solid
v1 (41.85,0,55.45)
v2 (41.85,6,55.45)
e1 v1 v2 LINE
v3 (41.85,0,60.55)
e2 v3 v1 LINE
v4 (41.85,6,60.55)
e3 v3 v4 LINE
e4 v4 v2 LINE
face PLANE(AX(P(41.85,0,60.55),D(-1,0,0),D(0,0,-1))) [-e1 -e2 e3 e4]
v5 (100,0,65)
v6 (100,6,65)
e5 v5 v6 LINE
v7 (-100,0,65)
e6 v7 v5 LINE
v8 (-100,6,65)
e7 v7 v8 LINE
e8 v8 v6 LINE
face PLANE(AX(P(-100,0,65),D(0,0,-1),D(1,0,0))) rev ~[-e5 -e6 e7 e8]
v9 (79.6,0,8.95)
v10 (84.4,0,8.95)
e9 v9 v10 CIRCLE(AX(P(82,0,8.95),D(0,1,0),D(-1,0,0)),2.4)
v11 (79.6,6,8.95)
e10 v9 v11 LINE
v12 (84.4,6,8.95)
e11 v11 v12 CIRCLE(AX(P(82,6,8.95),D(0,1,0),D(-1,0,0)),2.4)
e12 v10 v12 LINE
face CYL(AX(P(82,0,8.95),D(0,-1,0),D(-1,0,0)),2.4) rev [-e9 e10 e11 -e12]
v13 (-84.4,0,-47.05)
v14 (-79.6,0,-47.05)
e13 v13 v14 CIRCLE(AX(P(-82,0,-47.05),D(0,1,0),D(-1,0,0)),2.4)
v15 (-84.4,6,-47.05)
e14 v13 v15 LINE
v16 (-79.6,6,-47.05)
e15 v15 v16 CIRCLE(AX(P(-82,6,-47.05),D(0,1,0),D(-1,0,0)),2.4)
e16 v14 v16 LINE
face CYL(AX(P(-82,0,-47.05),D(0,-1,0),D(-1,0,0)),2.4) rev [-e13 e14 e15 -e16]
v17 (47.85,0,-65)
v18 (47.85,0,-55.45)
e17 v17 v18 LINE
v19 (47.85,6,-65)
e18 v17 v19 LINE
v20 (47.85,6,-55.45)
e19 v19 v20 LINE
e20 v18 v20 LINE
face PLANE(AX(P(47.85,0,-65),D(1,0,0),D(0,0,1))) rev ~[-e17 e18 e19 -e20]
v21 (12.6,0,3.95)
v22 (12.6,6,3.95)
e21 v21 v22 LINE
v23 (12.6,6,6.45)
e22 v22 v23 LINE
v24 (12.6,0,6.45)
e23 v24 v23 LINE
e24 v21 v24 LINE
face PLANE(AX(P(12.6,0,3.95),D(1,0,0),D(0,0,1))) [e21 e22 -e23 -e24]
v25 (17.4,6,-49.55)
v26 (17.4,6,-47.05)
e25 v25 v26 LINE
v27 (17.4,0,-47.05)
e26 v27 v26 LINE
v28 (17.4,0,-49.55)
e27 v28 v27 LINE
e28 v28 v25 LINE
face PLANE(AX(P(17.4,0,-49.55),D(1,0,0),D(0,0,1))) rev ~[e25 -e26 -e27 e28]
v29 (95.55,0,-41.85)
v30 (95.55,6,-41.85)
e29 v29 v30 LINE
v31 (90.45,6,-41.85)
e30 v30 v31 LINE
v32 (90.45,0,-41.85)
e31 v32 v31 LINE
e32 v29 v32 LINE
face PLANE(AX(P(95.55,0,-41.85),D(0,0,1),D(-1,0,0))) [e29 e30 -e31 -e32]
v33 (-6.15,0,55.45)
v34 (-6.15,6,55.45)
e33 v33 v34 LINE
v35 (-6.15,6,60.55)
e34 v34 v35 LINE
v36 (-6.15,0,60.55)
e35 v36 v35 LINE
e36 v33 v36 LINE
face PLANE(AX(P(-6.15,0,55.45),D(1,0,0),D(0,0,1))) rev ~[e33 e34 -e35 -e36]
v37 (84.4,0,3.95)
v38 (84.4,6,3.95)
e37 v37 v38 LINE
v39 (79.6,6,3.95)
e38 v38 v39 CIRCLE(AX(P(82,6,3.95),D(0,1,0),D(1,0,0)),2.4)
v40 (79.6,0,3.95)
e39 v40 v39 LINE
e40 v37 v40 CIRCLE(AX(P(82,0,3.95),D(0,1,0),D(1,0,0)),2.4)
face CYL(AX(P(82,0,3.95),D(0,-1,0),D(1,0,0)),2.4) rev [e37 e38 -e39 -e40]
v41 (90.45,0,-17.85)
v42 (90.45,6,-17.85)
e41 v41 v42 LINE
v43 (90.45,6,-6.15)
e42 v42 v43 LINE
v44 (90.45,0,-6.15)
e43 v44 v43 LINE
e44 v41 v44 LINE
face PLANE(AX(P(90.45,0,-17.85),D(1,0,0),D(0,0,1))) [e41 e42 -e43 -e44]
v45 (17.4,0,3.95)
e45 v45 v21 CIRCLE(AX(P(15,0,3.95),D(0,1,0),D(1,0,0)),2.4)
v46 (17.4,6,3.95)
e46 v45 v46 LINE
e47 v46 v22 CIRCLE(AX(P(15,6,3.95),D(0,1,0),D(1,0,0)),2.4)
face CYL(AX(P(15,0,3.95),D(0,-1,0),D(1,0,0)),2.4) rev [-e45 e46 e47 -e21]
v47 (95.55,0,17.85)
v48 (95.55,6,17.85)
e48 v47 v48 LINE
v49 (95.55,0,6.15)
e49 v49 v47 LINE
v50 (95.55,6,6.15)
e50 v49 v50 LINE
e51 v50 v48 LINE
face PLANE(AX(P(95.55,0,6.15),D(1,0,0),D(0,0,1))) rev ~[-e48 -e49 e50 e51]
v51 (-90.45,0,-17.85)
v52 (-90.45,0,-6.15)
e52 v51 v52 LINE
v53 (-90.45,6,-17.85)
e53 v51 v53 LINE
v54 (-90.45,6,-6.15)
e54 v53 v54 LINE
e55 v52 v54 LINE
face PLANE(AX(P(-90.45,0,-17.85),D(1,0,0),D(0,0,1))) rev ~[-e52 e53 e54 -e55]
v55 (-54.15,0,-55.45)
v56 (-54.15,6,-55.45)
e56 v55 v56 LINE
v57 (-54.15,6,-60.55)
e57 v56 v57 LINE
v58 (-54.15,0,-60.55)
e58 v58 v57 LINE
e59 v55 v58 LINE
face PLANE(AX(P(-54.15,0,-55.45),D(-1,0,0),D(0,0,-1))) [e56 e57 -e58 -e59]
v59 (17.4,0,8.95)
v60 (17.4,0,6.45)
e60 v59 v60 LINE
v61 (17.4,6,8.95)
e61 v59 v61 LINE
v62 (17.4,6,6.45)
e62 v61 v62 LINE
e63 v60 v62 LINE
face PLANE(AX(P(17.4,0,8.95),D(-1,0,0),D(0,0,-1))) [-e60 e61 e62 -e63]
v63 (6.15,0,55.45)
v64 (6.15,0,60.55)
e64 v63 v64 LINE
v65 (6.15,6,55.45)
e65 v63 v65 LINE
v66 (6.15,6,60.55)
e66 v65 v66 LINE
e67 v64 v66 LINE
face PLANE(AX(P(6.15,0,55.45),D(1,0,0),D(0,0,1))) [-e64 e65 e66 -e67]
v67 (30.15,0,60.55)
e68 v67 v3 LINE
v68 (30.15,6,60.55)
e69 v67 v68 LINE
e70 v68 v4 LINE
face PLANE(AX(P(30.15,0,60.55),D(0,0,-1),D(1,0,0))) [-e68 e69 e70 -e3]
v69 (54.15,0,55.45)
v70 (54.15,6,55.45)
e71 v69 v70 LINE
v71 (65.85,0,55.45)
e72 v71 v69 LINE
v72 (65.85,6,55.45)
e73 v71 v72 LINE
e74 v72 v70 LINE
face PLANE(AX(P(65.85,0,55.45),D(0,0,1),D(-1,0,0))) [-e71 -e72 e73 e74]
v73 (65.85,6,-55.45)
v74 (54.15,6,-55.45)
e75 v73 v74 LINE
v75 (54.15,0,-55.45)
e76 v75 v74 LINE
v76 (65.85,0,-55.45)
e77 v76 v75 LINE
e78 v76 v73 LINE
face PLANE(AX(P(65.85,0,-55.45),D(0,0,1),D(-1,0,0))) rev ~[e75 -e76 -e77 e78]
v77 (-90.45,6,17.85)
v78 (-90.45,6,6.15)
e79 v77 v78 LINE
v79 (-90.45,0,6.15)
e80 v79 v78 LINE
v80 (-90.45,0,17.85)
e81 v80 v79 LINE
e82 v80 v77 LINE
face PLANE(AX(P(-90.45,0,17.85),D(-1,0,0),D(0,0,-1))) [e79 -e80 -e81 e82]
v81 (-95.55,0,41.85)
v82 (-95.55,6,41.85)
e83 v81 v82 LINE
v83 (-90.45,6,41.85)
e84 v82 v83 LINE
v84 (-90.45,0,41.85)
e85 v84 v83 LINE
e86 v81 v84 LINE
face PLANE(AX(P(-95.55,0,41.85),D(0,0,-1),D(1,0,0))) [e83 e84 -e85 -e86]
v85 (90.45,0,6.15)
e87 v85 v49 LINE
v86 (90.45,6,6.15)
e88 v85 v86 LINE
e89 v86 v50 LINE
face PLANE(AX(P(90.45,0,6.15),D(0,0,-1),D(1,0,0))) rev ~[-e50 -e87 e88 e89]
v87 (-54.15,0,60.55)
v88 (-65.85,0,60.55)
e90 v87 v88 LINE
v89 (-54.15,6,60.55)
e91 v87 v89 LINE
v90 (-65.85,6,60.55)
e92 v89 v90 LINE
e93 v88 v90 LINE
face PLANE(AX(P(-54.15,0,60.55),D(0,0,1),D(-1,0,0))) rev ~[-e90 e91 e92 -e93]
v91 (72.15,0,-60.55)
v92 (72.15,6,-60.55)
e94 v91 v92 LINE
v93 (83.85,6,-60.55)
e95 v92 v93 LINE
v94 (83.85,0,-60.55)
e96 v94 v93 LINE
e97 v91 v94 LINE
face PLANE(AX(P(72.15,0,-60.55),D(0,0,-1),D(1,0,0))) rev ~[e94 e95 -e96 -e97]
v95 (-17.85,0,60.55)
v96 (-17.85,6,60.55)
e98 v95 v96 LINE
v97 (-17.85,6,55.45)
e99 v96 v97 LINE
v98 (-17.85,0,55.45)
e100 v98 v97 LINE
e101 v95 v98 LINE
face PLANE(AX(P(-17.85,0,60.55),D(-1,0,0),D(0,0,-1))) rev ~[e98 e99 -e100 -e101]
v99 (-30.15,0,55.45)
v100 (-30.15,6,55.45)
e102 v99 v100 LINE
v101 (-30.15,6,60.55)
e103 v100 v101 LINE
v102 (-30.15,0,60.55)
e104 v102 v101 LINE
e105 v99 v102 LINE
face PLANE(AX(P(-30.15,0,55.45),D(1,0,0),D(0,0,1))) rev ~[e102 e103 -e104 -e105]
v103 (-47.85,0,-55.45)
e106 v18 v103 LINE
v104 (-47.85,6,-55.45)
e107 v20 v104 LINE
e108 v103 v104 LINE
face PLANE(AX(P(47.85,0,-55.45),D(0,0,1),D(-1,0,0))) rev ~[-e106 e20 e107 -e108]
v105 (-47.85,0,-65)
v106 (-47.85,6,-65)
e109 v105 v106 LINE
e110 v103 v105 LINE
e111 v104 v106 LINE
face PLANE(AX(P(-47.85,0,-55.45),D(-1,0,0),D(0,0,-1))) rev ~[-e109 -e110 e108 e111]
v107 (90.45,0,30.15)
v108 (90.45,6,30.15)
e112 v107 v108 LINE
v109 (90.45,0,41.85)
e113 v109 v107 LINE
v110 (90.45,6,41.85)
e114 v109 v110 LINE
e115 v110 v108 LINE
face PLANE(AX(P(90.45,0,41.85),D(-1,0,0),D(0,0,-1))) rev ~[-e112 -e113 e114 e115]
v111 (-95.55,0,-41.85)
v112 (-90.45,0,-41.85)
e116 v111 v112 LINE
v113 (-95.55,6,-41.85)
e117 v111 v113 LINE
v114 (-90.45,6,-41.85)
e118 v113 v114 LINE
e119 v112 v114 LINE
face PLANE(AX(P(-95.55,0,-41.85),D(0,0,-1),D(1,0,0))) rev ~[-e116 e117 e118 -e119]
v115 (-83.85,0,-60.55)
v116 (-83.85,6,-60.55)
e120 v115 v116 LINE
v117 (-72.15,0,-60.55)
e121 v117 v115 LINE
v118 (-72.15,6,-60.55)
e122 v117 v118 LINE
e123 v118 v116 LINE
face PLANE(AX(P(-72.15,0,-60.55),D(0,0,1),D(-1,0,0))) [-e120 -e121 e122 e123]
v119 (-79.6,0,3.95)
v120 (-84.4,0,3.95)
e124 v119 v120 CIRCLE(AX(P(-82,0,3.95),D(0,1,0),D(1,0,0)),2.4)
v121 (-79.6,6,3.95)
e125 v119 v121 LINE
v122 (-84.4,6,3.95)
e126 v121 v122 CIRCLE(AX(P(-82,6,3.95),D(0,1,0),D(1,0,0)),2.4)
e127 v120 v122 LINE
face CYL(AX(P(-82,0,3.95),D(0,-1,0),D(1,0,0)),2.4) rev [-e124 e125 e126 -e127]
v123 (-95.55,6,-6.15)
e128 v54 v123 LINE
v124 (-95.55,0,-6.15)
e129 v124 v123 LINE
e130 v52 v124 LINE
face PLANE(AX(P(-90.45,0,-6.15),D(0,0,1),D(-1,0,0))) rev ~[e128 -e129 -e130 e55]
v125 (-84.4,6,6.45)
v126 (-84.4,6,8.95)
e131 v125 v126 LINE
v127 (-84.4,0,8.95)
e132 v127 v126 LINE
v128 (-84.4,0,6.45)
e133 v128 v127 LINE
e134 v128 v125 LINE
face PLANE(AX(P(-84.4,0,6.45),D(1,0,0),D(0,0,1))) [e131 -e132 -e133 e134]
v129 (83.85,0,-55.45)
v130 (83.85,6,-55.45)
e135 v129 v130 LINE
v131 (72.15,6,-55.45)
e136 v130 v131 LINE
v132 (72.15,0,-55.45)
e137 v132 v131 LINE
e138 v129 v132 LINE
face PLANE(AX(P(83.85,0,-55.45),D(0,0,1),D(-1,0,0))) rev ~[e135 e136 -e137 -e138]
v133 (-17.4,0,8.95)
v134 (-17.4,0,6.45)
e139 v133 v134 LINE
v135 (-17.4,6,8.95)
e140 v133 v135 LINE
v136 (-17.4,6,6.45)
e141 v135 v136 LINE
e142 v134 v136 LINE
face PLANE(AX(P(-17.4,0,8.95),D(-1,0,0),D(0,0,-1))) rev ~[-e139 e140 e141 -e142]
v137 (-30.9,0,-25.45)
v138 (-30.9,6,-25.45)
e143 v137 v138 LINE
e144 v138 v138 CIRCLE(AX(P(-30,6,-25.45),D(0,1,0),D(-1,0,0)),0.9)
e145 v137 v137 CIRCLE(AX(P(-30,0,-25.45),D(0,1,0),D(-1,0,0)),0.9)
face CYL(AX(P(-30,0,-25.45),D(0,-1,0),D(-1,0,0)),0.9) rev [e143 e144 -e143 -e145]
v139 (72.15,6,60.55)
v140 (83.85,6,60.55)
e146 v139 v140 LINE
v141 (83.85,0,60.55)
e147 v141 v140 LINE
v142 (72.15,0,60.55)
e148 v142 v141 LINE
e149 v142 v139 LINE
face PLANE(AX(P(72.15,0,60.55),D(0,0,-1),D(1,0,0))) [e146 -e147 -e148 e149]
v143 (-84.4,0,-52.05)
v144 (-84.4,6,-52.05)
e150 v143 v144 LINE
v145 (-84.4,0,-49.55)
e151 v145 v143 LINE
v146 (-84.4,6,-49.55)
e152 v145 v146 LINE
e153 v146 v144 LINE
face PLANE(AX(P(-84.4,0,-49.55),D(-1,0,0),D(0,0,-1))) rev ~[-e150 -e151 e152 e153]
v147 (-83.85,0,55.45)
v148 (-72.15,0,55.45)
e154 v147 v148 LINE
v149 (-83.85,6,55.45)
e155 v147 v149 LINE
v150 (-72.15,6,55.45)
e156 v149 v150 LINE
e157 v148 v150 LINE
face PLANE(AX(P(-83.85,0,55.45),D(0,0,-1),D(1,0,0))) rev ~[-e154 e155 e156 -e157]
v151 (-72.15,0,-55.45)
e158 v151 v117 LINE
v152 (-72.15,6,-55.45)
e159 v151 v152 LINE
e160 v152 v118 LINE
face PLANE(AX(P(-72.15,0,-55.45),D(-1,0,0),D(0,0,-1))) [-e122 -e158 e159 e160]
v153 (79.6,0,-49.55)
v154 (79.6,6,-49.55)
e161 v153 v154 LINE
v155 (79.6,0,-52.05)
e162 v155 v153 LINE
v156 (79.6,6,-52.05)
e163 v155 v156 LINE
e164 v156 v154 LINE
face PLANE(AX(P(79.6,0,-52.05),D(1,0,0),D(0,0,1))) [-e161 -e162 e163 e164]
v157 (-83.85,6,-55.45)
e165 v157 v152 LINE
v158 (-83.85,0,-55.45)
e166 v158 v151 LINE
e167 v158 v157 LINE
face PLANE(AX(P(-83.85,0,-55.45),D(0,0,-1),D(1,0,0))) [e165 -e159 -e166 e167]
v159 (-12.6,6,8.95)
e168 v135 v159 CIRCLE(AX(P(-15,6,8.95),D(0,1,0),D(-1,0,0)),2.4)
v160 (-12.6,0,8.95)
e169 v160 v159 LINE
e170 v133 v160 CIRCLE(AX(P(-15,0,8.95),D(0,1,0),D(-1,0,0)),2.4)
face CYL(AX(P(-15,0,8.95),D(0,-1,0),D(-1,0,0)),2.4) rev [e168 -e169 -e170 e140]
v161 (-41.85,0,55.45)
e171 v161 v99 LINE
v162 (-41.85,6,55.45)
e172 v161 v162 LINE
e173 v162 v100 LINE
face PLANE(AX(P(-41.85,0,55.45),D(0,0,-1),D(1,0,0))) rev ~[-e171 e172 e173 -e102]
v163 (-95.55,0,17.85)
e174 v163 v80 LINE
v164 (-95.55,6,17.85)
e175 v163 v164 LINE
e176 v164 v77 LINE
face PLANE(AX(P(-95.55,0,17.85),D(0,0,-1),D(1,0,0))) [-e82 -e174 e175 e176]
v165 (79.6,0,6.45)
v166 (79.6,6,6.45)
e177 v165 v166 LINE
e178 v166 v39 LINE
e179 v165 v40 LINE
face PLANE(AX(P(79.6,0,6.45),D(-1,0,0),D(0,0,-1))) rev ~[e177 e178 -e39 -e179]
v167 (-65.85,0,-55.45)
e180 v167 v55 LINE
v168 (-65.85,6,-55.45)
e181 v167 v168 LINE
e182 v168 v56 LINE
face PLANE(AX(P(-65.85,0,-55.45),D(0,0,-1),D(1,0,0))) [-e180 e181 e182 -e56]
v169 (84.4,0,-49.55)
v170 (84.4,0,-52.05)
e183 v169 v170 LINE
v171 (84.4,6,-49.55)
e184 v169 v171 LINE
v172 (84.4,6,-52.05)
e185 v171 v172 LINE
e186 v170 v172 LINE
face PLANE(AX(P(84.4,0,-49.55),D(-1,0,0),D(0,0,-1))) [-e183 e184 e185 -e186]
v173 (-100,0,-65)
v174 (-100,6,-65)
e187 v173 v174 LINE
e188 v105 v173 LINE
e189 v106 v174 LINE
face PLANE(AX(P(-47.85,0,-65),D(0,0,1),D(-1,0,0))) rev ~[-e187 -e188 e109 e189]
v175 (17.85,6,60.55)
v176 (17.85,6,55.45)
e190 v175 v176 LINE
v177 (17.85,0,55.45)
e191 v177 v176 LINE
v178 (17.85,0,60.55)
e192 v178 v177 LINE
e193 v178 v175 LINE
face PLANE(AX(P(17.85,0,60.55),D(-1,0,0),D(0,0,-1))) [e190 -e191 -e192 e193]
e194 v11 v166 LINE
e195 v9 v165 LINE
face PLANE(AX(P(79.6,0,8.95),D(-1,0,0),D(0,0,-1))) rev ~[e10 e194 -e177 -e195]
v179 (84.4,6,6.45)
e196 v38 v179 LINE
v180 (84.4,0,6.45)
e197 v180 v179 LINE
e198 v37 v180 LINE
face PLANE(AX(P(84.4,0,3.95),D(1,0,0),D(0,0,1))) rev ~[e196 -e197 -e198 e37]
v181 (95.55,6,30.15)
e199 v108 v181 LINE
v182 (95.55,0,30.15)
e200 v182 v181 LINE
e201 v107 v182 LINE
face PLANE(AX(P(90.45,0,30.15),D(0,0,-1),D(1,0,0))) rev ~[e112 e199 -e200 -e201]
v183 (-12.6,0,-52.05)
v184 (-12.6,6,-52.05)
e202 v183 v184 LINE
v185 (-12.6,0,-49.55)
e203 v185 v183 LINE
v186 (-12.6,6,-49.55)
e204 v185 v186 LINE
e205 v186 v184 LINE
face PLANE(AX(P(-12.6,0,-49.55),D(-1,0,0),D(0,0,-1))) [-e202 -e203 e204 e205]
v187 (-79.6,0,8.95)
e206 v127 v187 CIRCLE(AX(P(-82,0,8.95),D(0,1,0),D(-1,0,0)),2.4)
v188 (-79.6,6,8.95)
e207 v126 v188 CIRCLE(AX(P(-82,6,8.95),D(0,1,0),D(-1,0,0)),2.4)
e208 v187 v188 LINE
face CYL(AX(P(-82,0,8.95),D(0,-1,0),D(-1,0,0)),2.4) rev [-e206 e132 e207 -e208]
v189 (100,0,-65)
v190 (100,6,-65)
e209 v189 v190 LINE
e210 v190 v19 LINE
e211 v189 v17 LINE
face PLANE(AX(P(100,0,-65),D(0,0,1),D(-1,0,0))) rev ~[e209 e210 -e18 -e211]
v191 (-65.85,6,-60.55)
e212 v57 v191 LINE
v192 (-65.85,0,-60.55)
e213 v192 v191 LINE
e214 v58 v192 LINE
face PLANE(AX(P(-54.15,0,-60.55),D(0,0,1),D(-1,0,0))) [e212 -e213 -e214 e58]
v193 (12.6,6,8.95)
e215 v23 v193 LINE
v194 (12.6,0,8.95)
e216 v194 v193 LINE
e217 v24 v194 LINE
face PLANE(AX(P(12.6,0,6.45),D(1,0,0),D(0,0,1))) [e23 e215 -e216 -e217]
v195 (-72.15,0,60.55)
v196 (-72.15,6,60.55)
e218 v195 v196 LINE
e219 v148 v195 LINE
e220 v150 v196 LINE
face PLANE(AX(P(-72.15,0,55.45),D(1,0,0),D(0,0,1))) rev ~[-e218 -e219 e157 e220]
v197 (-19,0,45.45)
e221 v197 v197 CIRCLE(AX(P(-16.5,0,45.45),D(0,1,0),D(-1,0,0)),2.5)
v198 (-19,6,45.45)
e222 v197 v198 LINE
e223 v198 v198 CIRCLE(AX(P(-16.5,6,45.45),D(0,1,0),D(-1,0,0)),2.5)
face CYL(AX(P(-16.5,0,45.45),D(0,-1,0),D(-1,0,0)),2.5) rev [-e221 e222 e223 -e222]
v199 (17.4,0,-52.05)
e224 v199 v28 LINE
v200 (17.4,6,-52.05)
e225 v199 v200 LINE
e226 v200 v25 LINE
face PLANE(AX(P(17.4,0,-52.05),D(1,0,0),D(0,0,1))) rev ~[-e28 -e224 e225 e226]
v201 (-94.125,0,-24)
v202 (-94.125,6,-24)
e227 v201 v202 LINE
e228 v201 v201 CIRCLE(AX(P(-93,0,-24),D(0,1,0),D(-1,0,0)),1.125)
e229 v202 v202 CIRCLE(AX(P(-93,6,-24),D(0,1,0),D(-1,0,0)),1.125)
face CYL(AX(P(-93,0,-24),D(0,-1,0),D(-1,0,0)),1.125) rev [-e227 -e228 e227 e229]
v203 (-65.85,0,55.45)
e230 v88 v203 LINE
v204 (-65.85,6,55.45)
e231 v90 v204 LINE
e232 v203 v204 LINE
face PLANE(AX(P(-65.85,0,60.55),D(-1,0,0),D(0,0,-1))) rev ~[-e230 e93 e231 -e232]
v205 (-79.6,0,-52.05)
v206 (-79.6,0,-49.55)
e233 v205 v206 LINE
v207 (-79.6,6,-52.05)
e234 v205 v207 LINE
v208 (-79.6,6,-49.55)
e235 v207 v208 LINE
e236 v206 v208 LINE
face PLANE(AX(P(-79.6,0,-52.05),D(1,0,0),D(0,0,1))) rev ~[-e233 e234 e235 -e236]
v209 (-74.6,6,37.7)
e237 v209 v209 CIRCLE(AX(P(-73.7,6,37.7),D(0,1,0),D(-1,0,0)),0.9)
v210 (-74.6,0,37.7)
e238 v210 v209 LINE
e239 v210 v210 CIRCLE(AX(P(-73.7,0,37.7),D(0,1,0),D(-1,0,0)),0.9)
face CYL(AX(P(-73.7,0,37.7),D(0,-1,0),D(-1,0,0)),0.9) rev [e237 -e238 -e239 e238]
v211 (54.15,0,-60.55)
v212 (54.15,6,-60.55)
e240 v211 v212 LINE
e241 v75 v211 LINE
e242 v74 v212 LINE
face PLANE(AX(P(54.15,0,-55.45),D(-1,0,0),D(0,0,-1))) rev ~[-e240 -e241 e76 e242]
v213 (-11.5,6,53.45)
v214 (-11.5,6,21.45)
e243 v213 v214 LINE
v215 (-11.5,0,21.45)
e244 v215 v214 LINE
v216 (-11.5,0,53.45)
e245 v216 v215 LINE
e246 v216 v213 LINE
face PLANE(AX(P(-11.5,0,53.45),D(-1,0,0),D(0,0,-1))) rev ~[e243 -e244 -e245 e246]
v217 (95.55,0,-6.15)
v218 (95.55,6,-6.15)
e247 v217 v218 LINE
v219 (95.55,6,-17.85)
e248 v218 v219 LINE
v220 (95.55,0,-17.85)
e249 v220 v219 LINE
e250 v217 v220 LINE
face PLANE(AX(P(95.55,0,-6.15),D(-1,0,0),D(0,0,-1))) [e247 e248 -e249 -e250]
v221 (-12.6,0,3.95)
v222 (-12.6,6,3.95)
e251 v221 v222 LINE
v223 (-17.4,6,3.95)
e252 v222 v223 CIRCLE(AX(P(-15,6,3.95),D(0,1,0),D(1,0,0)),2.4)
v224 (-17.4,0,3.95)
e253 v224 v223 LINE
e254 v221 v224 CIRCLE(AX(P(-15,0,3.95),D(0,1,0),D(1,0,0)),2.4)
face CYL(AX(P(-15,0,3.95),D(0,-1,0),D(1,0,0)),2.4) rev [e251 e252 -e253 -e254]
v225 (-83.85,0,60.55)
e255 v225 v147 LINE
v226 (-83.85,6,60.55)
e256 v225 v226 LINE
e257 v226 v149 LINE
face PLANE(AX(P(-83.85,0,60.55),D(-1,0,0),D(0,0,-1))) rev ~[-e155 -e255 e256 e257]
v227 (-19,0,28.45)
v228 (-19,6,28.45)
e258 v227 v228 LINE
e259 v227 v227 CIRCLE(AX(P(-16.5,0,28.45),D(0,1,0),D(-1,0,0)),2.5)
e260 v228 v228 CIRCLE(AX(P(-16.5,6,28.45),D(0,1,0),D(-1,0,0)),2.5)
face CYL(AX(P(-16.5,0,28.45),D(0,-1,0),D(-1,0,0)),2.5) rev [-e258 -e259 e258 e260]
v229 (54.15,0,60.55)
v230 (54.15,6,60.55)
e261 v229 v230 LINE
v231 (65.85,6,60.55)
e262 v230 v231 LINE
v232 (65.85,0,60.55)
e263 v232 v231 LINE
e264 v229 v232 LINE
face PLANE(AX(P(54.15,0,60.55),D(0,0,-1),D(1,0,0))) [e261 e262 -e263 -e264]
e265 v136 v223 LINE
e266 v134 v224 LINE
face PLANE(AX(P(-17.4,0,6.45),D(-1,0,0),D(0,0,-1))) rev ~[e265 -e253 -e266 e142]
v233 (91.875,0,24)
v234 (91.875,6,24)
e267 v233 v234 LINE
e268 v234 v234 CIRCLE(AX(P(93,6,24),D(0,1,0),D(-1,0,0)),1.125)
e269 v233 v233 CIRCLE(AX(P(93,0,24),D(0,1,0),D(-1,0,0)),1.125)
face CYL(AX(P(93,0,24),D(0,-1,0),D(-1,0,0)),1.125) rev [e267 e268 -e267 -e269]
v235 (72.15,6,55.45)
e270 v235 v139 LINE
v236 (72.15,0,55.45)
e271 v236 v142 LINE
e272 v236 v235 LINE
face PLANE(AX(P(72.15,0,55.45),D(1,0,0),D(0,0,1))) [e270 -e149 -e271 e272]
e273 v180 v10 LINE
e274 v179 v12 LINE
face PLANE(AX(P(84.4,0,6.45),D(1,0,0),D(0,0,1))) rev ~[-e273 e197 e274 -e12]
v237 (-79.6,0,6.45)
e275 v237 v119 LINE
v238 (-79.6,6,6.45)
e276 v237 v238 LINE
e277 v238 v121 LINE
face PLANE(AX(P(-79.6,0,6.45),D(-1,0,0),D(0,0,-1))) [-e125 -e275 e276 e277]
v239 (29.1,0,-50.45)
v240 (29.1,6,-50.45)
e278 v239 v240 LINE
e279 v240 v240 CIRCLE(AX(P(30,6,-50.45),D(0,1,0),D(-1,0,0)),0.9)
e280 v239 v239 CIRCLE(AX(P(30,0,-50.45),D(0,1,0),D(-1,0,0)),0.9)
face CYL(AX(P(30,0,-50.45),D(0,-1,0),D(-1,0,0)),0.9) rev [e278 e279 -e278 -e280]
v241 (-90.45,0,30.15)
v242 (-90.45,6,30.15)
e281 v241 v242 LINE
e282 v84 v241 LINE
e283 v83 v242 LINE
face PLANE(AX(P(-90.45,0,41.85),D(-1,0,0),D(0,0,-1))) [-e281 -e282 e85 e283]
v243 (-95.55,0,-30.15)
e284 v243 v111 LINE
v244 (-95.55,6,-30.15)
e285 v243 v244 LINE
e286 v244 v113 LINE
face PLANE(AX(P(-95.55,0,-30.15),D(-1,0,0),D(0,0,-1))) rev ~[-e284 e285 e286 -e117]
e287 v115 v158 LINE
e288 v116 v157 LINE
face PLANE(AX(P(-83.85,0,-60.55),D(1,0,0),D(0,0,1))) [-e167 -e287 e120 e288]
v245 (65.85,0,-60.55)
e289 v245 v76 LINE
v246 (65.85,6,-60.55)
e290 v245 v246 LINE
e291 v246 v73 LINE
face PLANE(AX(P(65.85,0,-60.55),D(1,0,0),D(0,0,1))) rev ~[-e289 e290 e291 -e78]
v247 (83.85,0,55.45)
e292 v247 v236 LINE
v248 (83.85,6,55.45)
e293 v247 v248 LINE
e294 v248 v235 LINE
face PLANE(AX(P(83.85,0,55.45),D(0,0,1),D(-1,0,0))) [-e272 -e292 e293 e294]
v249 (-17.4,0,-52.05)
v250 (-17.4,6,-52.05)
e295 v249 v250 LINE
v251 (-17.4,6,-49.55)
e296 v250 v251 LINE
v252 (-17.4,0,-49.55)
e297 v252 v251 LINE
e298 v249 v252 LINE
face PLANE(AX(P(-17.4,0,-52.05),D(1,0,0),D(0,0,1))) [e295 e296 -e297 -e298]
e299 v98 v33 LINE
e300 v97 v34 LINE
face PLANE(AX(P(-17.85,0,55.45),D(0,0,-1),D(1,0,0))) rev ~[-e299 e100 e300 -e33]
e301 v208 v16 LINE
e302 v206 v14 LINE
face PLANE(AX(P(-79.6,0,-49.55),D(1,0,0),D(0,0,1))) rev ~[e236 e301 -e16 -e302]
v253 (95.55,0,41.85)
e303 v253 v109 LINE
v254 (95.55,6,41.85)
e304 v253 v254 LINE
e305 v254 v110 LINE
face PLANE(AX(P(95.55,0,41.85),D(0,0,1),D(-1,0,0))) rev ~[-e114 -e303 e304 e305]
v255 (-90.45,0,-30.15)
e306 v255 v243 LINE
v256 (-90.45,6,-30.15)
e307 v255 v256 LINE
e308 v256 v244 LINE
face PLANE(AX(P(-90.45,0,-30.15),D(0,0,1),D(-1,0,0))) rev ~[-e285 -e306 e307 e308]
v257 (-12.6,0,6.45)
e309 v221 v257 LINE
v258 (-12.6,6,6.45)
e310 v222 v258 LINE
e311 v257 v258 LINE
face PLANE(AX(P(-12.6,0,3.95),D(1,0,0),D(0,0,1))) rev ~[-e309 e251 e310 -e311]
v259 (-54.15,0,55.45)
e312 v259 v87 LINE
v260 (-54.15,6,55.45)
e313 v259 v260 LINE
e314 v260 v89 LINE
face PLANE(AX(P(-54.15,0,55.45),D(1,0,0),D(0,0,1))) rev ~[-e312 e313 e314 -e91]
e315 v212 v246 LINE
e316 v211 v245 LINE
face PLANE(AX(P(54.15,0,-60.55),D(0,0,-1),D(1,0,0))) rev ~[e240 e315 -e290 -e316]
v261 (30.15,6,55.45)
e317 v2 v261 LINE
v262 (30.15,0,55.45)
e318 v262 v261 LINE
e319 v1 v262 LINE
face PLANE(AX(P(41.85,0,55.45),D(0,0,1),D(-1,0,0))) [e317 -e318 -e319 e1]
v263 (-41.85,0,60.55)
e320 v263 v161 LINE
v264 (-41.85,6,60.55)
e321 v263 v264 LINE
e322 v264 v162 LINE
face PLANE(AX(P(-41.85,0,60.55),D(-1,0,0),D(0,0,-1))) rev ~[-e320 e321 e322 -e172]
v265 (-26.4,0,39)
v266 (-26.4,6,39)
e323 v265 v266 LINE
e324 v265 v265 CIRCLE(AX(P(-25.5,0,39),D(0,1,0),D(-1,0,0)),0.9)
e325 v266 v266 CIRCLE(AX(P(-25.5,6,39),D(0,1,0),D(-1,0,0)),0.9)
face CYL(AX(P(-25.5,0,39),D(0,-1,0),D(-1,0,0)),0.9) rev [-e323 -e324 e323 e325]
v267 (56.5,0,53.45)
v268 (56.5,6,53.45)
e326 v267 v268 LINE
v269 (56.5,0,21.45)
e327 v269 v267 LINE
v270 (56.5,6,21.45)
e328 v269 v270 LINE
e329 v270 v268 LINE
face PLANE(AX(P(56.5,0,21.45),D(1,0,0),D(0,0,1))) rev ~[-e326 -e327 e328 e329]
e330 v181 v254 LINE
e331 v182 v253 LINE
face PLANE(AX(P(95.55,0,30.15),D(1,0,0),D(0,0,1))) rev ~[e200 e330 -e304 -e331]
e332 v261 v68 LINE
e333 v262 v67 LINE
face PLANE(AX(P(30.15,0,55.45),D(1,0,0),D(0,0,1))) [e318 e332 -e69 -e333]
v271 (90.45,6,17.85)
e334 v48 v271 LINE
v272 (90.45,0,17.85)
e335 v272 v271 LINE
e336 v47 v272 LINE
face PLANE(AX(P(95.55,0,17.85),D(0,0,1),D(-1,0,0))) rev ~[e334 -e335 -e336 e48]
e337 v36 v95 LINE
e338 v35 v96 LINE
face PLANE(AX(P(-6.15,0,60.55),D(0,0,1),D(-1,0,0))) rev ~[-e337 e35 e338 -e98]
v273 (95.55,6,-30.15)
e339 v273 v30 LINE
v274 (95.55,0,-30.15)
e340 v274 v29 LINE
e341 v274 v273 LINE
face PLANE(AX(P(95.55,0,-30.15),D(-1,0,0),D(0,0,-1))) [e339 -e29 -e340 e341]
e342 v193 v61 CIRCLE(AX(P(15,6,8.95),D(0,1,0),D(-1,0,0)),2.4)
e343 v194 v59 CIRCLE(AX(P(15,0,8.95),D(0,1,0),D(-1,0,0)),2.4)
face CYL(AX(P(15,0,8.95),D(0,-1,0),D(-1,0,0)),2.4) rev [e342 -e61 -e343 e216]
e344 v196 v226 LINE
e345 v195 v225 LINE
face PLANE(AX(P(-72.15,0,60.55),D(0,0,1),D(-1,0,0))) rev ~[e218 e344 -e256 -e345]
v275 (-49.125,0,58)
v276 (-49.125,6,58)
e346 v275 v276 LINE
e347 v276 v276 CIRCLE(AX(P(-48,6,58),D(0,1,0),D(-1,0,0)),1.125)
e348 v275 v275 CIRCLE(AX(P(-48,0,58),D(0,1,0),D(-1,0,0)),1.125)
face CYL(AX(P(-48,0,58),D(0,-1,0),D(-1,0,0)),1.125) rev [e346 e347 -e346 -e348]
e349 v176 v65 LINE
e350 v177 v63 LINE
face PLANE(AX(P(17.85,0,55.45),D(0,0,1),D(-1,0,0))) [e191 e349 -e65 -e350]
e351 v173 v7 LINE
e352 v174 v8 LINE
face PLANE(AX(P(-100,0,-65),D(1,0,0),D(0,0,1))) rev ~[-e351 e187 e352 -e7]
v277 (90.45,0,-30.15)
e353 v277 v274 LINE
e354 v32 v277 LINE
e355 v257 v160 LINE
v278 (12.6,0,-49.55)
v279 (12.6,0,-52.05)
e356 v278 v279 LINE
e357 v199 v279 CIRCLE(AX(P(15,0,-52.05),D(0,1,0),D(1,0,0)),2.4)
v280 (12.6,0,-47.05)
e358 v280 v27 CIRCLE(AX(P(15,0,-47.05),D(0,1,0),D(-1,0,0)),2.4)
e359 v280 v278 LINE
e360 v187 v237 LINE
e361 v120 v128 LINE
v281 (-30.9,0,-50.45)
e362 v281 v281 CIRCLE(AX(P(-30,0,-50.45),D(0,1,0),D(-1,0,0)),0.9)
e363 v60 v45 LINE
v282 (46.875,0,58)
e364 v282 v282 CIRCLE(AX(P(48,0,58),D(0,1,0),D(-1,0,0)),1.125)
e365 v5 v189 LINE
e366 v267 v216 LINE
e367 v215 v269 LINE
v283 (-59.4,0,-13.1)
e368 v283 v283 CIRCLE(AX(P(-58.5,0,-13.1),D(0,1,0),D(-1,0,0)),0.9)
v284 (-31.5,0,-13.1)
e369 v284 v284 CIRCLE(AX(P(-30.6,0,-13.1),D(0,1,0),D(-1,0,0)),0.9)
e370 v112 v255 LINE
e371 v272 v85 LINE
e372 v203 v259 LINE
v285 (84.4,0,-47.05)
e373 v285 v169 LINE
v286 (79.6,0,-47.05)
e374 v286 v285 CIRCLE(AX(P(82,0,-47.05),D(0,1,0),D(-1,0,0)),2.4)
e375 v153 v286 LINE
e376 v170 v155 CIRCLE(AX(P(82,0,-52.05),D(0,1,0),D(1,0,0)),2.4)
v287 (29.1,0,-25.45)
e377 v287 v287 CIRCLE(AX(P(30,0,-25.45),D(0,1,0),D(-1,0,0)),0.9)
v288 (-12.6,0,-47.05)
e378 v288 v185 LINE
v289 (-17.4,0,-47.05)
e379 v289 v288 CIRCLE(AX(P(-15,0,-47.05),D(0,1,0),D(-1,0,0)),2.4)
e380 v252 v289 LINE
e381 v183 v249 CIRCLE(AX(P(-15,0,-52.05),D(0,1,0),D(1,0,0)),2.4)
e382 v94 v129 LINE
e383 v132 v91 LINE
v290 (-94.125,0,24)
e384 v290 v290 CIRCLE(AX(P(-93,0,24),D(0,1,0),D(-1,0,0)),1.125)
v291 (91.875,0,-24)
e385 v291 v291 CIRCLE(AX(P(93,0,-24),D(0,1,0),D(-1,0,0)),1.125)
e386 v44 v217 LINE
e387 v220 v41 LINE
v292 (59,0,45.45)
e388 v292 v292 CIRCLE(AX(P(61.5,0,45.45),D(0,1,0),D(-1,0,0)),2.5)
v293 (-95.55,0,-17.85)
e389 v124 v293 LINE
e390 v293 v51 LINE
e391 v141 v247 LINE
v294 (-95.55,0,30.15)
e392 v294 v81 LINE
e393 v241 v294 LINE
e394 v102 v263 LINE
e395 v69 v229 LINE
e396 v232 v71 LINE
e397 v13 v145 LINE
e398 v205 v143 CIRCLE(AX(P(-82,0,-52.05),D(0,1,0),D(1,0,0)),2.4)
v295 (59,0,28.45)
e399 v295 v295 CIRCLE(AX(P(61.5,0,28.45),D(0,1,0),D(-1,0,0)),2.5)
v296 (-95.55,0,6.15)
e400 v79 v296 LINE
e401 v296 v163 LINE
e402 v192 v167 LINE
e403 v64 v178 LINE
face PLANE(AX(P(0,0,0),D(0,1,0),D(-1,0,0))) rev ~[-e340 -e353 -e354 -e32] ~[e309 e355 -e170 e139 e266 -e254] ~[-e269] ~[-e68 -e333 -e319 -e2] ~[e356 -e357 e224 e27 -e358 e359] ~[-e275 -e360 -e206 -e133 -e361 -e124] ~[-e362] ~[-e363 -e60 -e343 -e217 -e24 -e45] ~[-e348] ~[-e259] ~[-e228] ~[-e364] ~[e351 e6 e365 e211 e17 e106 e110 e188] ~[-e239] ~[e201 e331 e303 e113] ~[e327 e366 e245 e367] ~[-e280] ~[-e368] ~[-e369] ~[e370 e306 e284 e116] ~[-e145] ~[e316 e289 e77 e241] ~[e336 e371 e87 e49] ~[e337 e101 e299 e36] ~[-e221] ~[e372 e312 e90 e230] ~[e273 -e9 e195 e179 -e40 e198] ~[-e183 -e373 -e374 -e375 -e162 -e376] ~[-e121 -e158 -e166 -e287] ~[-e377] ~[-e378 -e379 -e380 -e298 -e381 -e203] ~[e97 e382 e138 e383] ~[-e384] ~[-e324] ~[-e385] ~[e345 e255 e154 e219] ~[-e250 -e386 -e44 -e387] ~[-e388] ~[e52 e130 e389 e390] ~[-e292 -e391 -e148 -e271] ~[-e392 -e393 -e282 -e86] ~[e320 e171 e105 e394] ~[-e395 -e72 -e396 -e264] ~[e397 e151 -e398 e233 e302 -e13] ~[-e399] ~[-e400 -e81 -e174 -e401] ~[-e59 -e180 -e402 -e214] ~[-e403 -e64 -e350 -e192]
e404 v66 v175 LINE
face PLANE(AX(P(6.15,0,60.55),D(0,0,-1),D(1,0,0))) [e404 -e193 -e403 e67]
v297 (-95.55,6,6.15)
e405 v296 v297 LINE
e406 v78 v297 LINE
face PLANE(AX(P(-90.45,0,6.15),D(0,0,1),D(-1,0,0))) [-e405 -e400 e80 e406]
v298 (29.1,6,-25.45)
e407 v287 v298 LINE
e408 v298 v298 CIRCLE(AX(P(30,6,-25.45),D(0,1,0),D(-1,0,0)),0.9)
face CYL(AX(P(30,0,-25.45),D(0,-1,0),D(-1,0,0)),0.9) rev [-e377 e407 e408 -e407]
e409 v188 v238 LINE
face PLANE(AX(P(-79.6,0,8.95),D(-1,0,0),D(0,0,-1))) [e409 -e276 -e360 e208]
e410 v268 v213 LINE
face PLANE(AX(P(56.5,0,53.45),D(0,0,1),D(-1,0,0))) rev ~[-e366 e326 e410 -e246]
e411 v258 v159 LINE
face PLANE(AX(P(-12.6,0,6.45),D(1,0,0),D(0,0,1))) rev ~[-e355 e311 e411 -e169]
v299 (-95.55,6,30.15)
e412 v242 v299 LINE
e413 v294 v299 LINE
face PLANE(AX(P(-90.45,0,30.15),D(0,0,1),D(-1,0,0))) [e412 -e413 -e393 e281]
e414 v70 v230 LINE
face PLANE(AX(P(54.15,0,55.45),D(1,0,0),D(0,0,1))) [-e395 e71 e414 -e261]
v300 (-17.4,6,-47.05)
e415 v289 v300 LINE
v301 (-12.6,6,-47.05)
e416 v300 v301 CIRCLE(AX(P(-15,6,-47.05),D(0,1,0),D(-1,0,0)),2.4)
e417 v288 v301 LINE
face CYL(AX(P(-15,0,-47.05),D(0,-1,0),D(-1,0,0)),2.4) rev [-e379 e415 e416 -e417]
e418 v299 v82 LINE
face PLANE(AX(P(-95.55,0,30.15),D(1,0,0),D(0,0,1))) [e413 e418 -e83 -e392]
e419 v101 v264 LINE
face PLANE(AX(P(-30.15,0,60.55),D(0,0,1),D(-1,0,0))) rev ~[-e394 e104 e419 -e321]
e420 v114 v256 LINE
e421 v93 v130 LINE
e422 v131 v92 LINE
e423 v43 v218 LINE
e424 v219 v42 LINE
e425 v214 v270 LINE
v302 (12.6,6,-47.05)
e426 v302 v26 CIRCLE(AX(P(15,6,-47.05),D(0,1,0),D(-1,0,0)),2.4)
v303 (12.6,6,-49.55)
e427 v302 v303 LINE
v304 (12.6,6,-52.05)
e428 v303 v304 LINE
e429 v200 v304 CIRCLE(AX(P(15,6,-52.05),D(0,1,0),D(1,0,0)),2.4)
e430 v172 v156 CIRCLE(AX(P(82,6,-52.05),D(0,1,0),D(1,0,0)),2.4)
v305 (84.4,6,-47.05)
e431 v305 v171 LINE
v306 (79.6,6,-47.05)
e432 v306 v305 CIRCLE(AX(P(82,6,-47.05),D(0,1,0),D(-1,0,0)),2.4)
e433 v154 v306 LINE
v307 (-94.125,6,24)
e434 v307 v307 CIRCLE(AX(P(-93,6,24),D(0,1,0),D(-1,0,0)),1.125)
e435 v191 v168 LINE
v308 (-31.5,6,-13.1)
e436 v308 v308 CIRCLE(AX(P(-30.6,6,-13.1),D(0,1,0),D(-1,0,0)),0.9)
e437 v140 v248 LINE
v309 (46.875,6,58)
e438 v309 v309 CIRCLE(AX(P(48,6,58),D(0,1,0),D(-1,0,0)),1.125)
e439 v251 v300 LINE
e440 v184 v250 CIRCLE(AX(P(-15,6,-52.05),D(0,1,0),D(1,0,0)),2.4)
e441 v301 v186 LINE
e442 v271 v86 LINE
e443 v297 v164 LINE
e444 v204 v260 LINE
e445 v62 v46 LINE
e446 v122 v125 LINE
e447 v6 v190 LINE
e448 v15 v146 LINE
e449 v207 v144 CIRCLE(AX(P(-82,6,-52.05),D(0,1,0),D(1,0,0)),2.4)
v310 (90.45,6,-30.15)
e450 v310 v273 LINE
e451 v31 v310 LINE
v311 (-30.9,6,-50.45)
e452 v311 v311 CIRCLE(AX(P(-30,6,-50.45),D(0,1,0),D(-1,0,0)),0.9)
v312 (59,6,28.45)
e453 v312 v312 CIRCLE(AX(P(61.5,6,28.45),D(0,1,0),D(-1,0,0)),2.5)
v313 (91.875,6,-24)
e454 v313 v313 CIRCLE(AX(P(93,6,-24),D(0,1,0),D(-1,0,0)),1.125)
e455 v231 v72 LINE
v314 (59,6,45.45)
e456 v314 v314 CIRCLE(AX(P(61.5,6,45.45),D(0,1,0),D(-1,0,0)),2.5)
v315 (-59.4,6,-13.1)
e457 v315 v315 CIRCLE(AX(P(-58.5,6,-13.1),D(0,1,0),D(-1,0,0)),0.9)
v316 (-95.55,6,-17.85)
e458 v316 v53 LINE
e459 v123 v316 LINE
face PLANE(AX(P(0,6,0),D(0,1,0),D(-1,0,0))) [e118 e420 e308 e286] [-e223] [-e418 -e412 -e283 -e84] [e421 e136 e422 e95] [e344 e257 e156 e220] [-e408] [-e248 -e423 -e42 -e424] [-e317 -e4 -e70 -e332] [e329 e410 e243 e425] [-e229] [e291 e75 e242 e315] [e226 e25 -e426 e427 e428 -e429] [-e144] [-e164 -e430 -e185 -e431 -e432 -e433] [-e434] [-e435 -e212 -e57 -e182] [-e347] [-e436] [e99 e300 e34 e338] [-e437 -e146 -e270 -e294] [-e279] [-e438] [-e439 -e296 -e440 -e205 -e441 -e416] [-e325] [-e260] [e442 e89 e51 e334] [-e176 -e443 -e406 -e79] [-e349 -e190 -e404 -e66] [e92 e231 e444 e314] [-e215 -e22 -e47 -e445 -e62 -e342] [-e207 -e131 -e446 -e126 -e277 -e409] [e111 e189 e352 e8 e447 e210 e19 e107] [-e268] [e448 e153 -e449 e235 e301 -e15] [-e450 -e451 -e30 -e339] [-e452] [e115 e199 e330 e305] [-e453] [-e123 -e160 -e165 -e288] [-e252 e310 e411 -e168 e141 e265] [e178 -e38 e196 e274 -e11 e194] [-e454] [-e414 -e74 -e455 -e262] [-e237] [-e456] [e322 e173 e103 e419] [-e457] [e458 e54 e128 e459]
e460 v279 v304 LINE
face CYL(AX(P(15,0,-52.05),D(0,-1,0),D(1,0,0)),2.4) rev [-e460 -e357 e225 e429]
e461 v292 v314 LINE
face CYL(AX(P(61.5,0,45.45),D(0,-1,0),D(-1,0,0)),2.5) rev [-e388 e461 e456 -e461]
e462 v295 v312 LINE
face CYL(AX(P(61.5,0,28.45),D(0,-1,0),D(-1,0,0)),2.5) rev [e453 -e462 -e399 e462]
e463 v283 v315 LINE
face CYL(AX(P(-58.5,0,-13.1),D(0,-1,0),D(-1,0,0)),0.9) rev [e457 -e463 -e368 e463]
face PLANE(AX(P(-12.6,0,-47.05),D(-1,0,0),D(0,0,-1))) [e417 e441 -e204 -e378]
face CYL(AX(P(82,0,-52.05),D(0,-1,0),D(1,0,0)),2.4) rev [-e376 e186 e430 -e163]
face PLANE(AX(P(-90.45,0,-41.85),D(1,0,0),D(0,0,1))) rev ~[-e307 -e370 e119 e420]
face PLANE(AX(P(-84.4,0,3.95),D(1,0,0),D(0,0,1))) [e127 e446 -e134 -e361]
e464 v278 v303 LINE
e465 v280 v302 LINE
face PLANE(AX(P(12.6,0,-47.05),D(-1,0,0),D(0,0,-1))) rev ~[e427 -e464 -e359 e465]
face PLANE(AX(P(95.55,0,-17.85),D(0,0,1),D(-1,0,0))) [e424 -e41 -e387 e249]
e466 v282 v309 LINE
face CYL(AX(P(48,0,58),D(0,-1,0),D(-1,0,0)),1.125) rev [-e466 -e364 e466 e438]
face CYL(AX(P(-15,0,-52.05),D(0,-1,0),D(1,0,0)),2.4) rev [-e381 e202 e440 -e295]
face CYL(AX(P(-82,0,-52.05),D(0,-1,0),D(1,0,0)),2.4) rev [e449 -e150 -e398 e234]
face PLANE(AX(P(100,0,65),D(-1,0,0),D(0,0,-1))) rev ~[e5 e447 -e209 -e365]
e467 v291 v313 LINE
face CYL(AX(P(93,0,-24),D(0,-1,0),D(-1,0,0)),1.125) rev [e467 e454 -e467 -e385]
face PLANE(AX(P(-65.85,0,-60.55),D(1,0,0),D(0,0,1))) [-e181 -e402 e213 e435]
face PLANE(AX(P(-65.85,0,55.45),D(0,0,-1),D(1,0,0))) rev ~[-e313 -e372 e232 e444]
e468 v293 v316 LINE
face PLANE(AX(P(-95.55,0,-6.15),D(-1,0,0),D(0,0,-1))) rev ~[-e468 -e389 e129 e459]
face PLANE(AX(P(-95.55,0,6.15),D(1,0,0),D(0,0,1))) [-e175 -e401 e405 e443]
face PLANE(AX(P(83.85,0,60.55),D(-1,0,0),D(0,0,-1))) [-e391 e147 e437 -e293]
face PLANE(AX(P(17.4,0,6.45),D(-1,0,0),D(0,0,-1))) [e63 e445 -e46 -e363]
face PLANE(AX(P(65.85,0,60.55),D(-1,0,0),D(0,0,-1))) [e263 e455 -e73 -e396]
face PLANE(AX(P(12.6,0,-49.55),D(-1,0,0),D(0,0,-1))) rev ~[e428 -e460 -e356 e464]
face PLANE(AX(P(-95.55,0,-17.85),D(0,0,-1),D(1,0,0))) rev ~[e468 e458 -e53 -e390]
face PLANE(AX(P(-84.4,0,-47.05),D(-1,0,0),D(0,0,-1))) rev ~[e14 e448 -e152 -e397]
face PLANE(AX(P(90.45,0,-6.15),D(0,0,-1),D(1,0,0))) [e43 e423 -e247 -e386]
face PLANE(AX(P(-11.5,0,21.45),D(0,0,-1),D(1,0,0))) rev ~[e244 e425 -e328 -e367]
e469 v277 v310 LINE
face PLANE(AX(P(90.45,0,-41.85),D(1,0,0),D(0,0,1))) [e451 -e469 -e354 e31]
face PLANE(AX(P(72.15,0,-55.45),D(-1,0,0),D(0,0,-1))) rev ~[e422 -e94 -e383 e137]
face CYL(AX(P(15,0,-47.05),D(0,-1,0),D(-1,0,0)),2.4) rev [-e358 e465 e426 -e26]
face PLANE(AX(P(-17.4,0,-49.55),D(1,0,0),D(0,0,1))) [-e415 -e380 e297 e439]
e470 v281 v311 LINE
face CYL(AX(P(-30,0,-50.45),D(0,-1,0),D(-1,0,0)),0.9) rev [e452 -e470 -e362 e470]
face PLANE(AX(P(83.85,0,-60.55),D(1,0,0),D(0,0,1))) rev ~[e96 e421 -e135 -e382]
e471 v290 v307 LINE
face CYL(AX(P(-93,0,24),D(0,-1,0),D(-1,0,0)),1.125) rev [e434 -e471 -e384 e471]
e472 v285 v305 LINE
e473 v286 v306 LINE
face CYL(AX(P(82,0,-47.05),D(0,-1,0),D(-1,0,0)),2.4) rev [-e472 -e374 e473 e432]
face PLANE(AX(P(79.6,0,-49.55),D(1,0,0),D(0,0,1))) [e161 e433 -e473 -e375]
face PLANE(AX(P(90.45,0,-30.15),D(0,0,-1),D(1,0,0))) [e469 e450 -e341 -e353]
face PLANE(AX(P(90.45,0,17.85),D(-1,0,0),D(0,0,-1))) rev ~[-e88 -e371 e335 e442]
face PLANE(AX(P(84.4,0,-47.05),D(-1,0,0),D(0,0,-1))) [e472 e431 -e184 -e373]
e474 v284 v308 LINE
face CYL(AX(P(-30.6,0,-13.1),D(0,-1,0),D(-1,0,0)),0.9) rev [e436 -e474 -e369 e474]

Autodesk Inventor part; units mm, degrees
ref_plane "YZ Plane" through (0, 0, 0) normal (1, 0, 0) x (0, 1, 0)
ref_plane "XZ Plane" through (0, 0, 0) normal (0, 1, 0) x (-1, 0, 0)
ref_plane "XY Plane" through (0, 0, 0) normal (0, 0, 1) x (1, 0, 0)
sketch "Sketch1" plane through (0, 0, 0) normal (0, 1, 0) x (-1, 0, 0)
  line L0 (100, 65) -> (-100, 65)
  line L1 (-100, 65) -> (-100, -65)
  line L2 (-100, -65) -> (100, -65)
  line L3 (100, -65) -> (100, 65)
  line L4 (100, 65) -> (-100, -65) construction
  line L5 (-100, 65) -> (100, -65) construction
  line L6 (0, 0) -> (4.5236, 0)
  line L7 (0, 8.9) -> (0, -17.1)
  circle A0 centre (58.5, -13.1) radius 0.9
  circle A1 centre (30.6, -13.1) radius 0.9
  circle A2 centre (73.7, 37.7) radius 0.9
  circle A3 centre (25.5, 39) radius 0.9
  circle A4 centre (15, 6.45) radius 2.4
  line L8 (0, 0) -> (5.2635, 0)
  circle A5 centre (-15, 6.45) radius 2.4
  line L9 (48.5, 0) -> (48.5, 8.2763)
  line L10 (-48.5, 0) -> (-48.5, 8.2763)
  circle A6 centre (-82, 6.45) radius 2.4
  circle A7 centre (82, 6.45) radius 2.4
  line L11 (95.55, -41.85) -> (90.45, -41.85)
  line L12 (90.45, -41.85) -> (90.45, -30.15)
  line L13 (90.45, -30.15) -> (95.55, -30.15)
  line L14 (95.55, -30.15) -> (95.55, -41.85)
  line L15 (95.55, -17.85) -> (90.45, -17.85)
  line L16 (90.45, -17.85) -> (90.45, -6.15)
  line L17 (90.45, -6.15) -> (95.55, -6.15)
  line L18 (95.55, -6.15) -> (95.55, -17.85)
  line L19 (65.85, -55.45) -> (54.15, -55.45)
  line L20 (54.15, -55.45) -> (54.15, -60.55)
  line L21 (54.15, -60.55) -> (65.85, -60.55)
  line L22 (65.85, -60.55) -> (65.85, -55.45)
  line L23 (72.15, -60.55) -> (83.85, -60.55)
  line L24 (83.85, -60.55) -> (83.85, -55.45)
  line L25 (83.85, -55.45) -> (72.15, -55.45)
  line L26 (72.15, -55.45) -> (72.15, -60.55)
  line L27 (-95.55, -41.85) -> (-90.45, -41.85)
  line L28 (-90.45, -41.85) -> (-90.45, -30.15)
  line L29 (-90.45, -30.15) -> (-95.55, -30.15)
  line L30 (-95.55, -30.15) -> (-95.55, -41.85)
  line L31 (-95.55, -17.85) -> (-90.45, -17.85)
  line L32 (-90.45, -17.85) -> (-90.45, -6.15)
  line L33 (-90.45, -6.15) -> (-95.55, -6.15)
  line L34 (-95.55, -6.15) -> (-95.55, -17.85)
  line L35 (-65.85, -55.45) -> (-54.15, -55.45)
  line L36 (-54.15, -55.45) -> (-54.15, -60.55)
  line L37 (-54.15, -60.55) -> (-65.85, -60.55)
  line L38 (-65.85, -60.55) -> (-65.85, -55.45)
  line L39 (-72.15, -60.55) -> (-83.85, -60.55)
  line L40 (-83.85, -60.55) -> (-83.85, -55.45)
  line L41 (-83.85, -55.45) -> (-72.15, -55.45)
  line L42 (-72.15, -55.45) -> (-72.15, -60.55)
  line L43 (95.55, 41.85) -> (90.45, 41.85)
  line L44 (90.45, 41.85) -> (90.45, 30.15)
  line L45 (90.45, 30.15) -> (95.55, 30.15)
  line L46 (95.55, 30.15) -> (95.55, 41.85)
  line L47 (95.55, 17.85) -> (90.45, 17.85)
  line L48 (90.45, 17.85) -> (90.45, 6.15)
  line L49 (90.45, 6.15) -> (95.55, 6.15)
  line L50 (95.55, 6.15) -> (95.55, 17.85)
  line L51 (65.85, 55.45) -> (54.15, 55.45)
  line L52 (54.15, 55.45) -> (54.15, 60.55)
  line L53 (54.15, 60.55) -> (65.85, 60.55)
  line L54 (65.85, 60.55) -> (65.85, 55.45)
  line L55 (41.85, 55.45) -> (30.15, 55.45)
  line L56 (30.15, 55.45) -> (30.15, 60.55)
  line L57 (30.15, 60.55) -> (41.85, 60.55)
  line L58 (41.85, 60.55) -> (41.85, 55.45)
  line L59 (17.85, 55.45) -> (6.15, 55.45)
  line L60 (6.15, 55.45) -> (6.15, 60.55)
  line L61 (6.15, 60.55) -> (17.85, 60.55)
  line L62 (17.85, 60.55) -> (17.85, 55.45)
  line L63 (72.15, 60.55) -> (83.85, 60.55)
  line L64 (83.85, 60.55) -> (83.85, 55.45)
  line L65 (83.85, 55.45) -> (72.15, 55.45)
  line L66 (72.15, 55.45) -> (72.15, 60.55)
  line L67 (-90.45, 30.15) -> (-95.55, 30.15)
  line L68 (-95.55, 17.85) -> (-90.45, 17.85)
  line L69 (-90.45, 17.85) -> (-90.45, 6.15)
  line L70 (-90.45, 6.15) -> (-95.55, 6.15)
  line L71 (-95.55, 6.15) -> (-95.55, 17.85)
  line L72 (-95.55, 41.85) -> (-90.45, 41.85)
  line L73 (-95.55, 30.15) -> (-95.55, 41.85)
  line L74 (-90.45, 41.85) -> (-90.45, 30.15)
  line L75 (-83.85, 55.45) -> (-72.15, 55.45)
  line L76 (-83.85, 60.55) -> (-83.85, 55.45)
  line L77 (-72.15, 60.55) -> (-83.85, 60.55)
  line L78 (-72.15, 55.45) -> (-72.15, 60.55)
  line L79 (-65.85, 60.55) -> (-65.85, 55.45)
  line L80 (-54.15, 55.45) -> (-54.15, 60.55)
  line L81 (-54.15, 60.55) -> (-65.85, 60.55)
  line L82 (-65.85, 55.45) -> (-54.15, 55.45)
  line L83 (-6.15, 55.45) -> (-6.15, 60.55)
  line L84 (-17.85, 55.45) -> (-6.15, 55.45)
  line L85 (-6.15, 60.55) -> (-17.85, 60.55)
  line L86 (-17.85, 60.55) -> (-17.85, 55.45)
  line L87 (-30.15, 55.45) -> (-30.15, 60.55)
  line L88 (-41.85, 60.55) -> (-41.85, 55.45)
  line L89 (-30.15, 60.55) -> (-41.85, 60.55)
  line L90 (-41.85, 55.45) -> (-30.15, 55.45)
  line L91 (82, 3.95) -> (82, 8.95) construction
  line L92 (84.4, 3.95) -> (84.4, 8.95)
  line L93 (79.6, 8.95) -> (79.6, 3.95)
  arc A8 (79.6, 3.95) -> (84.4, 3.95) centre (82, 3.95) ccw
  arc A9 (84.4, 8.95) -> (79.6, 8.95) centre (82, 8.95) ccw
  line L94 (12.6, 3.95) -> (12.6, 8.95)
  line L95 (17.4, 8.95) -> (17.4, 3.95)
  arc A10 (12.6, 3.95) -> (17.4, 3.95) centre (15, 3.95) ccw
  arc A11 (17.4, 8.95) -> (12.6, 8.95) centre (15, 8.95) ccw
  line L96 (-84.4, 3.95) -> (-84.4, 8.95)
  line L97 (-79.6, 8.95) -> (-79.6, 3.95)
  arc A12 (-84.4, 3.95) -> (-79.6, 3.95) centre (-82, 3.95) ccw
  arc A13 (-79.6, 8.95) -> (-84.4, 8.95) centre (-82, 8.95) ccw
  arc A14 (-17.4, 3.95) -> (-12.6, 3.95) centre (-15, 3.95) ccw
  line L98 (-12.6, 3.95) -> (-12.6, 8.95)
  line L99 (-17.4, 8.95) -> (-17.4, 3.95)
  arc A15 (-12.6, 8.95) -> (-17.4, 8.95) centre (-15, 8.95) ccw
  line L100 (-56.5, 53.45) -> (11.5, 53.45)
  line L101 (11.5, 53.45) -> (11.5, 21.45)
  line L102 (11.5, 21.45) -> (-56.5, 21.45)
  line L103 (-56.5, 21.45) -> (-56.5, 53.45)
  circle A16 centre (-61.5, 28.45) radius 2.5
  circle A17 centre (-61.5, 45.45) radius 2.5
  line L104 (47.85, -65) -> (-47.85, -65)
  line L105 (-47.85, -65) -> (-47.85, -55.45)
  line L106 (-47.85, -55.45) -> (47.85, -55.45)
  line L107 (47.85, -55.45) -> (47.85, -65)
  line L108 (-22.5, 6.9) -> (-22.5, -4.1)
  circle A18 centre (16.5, 28.45) radius 2.5
  circle A19 centre (16.5, 45.45) radius 2.5
  circle A20 centre (30, -50.45) radius 0.9
  circle A21 centre (30, -25.45) radius 0.9
  circle A22 centre (-30, -25.45) radius 0.9
  circle A23 centre (-30, -50.45) radius 0.9
  circle A24 centre (93, -24) radius 1.125
  circle A25 centre (93, 24) radius 1.125
  circle A26 centre (-93, -24) radius 1.125
  circle A27 centre (-93, 24) radius 1.125
  circle A28 centre (48, 58) radius 1.125
  circle A29 centre (-48, 58) radius 1.125
  line L109 (65.3403, -21.55) -> (57.8403, -21.55)
  circle A30 centre (15, -49.55) radius 2.4
  circle A31 centre (-15, -49.55) radius 2.4
  circle A32 centre (-82, -49.55) radius 2.4
  circle A33 centre (82, -49.55) radius 2.4
  line L110 (82, -47.05) -> (82, -52.05) construction
  line L111 (84.4, -47.05) -> (84.4, -52.05)
  line L112 (79.6, -52.05) -> (79.6, -47.05)
  arc A34 (84.4, -47.05) -> (79.6, -47.05) centre (82, -47.05) ccw
  arc A35 (79.6, -52.05) -> (84.4, -52.05) centre (82, -52.05) ccw
  arc A36 (17.4, -47.05) -> (12.6, -47.05) centre (15, -47.05) ccw
  line L113 (12.6, -47.05) -> (12.6, -52.05)
  line L114 (17.4, -52.05) -> (17.4, -47.05)
  arc A37 (12.6, -52.05) -> (17.4, -52.05) centre (15, -52.05) ccw
  line L115 (-84.4, -47.05) -> (-84.4, -52.05)
  arc A38 (-84.4, -52.05) -> (-79.6, -52.05) centre (-82, -52.05) ccw
  line L116 (-79.6, -52.05) -> (-79.6, -47.05)
  arc A39 (-79.6, -47.05) -> (-84.4, -47.05) centre (-82, -47.05) ccw
  arc A40 (-12.6, -47.05) -> (-17.4, -47.05) centre (-15, -47.05) ccw
  line L117 (-17.4, -52.05) -> (-17.4, -47.05)
  line L118 (-12.6, -47.05) -> (-12.6, -52.05)
  arc A41 (-17.4, -52.05) -> (-12.6, -52.05) centre (-15, -52.05) ccw
  point P0 (0, 0)
  point P1 (0, 0)
  dimension "d0" = 130
  dimension "d1" = 200
  dimension "d7" = 1.8
  dimension "d8" = 5.1
  dimension "d9" = 27.9
  dimension "d10" = 1.3
  dimension "d11" = 50.8
  dimension "d12" = 15.2
  dimension "d14" = 26
  dimension "d23" = 4.8
  dimension "d31" = 5.1
  dimension "d32" = 4.45
  dimension "d34" = 6.15
  dimension "d35" = 11.7
  dimension "d36" = 12.3
  dimension "d37" = 11.7
  dimension "d43" = 11.7
  dimension "d44" = 6.3
  dimension "d45" = 11.7
  dimension "d50" = 2.5
  dimension "d54" = 10.5
  dimension "d55" = 32
  dimension "d56" = 68
  dimension "d58" = 5
  dimension "d62" = 17
  dimension "d63" = 5
  dimension "d64" = 12.3
  dimension "d65" = 11.7
  dimension "d66" = 5.1
  dimension "d67" = 12.3
  dimension "d68" = 11.7
  dimension "d69" = 12.3
  dimension "d70" = 11.7
  dimension "d71" = 12.3
  dimension "d72" = 11.7
  dimension "d73" = 4.45
  dimension "d74" = 6.3
  dimension "d75" = 6.3
  dimension "d77" = 15
  dimension "d78" = 67
  dimension "d79" = 5
  dimension "d80" = 25
  dimension "d81" = 60
  dimension "d82" = 2.25
  dimension "d83" = 6.15
  dimension "d84" = 2.55
  dimension "d85" = 2.25
  dimension "d86" = 2.25
  dimension "d87" = 2.55
  dimension "d88" = 6.15
  dimension "d89" = 7
  dimension "d90" = 56
  dimension "d91" = 15
  dimension "d92" = 2
  dimension "d93" = 22.5
extrude "Extrusion3" add sketch "Sketch1" along normal blind 6 contours L3 L2 L107 L106 L105 L1 L0
properties part number "case_base" material "Acrylic, Clear"
